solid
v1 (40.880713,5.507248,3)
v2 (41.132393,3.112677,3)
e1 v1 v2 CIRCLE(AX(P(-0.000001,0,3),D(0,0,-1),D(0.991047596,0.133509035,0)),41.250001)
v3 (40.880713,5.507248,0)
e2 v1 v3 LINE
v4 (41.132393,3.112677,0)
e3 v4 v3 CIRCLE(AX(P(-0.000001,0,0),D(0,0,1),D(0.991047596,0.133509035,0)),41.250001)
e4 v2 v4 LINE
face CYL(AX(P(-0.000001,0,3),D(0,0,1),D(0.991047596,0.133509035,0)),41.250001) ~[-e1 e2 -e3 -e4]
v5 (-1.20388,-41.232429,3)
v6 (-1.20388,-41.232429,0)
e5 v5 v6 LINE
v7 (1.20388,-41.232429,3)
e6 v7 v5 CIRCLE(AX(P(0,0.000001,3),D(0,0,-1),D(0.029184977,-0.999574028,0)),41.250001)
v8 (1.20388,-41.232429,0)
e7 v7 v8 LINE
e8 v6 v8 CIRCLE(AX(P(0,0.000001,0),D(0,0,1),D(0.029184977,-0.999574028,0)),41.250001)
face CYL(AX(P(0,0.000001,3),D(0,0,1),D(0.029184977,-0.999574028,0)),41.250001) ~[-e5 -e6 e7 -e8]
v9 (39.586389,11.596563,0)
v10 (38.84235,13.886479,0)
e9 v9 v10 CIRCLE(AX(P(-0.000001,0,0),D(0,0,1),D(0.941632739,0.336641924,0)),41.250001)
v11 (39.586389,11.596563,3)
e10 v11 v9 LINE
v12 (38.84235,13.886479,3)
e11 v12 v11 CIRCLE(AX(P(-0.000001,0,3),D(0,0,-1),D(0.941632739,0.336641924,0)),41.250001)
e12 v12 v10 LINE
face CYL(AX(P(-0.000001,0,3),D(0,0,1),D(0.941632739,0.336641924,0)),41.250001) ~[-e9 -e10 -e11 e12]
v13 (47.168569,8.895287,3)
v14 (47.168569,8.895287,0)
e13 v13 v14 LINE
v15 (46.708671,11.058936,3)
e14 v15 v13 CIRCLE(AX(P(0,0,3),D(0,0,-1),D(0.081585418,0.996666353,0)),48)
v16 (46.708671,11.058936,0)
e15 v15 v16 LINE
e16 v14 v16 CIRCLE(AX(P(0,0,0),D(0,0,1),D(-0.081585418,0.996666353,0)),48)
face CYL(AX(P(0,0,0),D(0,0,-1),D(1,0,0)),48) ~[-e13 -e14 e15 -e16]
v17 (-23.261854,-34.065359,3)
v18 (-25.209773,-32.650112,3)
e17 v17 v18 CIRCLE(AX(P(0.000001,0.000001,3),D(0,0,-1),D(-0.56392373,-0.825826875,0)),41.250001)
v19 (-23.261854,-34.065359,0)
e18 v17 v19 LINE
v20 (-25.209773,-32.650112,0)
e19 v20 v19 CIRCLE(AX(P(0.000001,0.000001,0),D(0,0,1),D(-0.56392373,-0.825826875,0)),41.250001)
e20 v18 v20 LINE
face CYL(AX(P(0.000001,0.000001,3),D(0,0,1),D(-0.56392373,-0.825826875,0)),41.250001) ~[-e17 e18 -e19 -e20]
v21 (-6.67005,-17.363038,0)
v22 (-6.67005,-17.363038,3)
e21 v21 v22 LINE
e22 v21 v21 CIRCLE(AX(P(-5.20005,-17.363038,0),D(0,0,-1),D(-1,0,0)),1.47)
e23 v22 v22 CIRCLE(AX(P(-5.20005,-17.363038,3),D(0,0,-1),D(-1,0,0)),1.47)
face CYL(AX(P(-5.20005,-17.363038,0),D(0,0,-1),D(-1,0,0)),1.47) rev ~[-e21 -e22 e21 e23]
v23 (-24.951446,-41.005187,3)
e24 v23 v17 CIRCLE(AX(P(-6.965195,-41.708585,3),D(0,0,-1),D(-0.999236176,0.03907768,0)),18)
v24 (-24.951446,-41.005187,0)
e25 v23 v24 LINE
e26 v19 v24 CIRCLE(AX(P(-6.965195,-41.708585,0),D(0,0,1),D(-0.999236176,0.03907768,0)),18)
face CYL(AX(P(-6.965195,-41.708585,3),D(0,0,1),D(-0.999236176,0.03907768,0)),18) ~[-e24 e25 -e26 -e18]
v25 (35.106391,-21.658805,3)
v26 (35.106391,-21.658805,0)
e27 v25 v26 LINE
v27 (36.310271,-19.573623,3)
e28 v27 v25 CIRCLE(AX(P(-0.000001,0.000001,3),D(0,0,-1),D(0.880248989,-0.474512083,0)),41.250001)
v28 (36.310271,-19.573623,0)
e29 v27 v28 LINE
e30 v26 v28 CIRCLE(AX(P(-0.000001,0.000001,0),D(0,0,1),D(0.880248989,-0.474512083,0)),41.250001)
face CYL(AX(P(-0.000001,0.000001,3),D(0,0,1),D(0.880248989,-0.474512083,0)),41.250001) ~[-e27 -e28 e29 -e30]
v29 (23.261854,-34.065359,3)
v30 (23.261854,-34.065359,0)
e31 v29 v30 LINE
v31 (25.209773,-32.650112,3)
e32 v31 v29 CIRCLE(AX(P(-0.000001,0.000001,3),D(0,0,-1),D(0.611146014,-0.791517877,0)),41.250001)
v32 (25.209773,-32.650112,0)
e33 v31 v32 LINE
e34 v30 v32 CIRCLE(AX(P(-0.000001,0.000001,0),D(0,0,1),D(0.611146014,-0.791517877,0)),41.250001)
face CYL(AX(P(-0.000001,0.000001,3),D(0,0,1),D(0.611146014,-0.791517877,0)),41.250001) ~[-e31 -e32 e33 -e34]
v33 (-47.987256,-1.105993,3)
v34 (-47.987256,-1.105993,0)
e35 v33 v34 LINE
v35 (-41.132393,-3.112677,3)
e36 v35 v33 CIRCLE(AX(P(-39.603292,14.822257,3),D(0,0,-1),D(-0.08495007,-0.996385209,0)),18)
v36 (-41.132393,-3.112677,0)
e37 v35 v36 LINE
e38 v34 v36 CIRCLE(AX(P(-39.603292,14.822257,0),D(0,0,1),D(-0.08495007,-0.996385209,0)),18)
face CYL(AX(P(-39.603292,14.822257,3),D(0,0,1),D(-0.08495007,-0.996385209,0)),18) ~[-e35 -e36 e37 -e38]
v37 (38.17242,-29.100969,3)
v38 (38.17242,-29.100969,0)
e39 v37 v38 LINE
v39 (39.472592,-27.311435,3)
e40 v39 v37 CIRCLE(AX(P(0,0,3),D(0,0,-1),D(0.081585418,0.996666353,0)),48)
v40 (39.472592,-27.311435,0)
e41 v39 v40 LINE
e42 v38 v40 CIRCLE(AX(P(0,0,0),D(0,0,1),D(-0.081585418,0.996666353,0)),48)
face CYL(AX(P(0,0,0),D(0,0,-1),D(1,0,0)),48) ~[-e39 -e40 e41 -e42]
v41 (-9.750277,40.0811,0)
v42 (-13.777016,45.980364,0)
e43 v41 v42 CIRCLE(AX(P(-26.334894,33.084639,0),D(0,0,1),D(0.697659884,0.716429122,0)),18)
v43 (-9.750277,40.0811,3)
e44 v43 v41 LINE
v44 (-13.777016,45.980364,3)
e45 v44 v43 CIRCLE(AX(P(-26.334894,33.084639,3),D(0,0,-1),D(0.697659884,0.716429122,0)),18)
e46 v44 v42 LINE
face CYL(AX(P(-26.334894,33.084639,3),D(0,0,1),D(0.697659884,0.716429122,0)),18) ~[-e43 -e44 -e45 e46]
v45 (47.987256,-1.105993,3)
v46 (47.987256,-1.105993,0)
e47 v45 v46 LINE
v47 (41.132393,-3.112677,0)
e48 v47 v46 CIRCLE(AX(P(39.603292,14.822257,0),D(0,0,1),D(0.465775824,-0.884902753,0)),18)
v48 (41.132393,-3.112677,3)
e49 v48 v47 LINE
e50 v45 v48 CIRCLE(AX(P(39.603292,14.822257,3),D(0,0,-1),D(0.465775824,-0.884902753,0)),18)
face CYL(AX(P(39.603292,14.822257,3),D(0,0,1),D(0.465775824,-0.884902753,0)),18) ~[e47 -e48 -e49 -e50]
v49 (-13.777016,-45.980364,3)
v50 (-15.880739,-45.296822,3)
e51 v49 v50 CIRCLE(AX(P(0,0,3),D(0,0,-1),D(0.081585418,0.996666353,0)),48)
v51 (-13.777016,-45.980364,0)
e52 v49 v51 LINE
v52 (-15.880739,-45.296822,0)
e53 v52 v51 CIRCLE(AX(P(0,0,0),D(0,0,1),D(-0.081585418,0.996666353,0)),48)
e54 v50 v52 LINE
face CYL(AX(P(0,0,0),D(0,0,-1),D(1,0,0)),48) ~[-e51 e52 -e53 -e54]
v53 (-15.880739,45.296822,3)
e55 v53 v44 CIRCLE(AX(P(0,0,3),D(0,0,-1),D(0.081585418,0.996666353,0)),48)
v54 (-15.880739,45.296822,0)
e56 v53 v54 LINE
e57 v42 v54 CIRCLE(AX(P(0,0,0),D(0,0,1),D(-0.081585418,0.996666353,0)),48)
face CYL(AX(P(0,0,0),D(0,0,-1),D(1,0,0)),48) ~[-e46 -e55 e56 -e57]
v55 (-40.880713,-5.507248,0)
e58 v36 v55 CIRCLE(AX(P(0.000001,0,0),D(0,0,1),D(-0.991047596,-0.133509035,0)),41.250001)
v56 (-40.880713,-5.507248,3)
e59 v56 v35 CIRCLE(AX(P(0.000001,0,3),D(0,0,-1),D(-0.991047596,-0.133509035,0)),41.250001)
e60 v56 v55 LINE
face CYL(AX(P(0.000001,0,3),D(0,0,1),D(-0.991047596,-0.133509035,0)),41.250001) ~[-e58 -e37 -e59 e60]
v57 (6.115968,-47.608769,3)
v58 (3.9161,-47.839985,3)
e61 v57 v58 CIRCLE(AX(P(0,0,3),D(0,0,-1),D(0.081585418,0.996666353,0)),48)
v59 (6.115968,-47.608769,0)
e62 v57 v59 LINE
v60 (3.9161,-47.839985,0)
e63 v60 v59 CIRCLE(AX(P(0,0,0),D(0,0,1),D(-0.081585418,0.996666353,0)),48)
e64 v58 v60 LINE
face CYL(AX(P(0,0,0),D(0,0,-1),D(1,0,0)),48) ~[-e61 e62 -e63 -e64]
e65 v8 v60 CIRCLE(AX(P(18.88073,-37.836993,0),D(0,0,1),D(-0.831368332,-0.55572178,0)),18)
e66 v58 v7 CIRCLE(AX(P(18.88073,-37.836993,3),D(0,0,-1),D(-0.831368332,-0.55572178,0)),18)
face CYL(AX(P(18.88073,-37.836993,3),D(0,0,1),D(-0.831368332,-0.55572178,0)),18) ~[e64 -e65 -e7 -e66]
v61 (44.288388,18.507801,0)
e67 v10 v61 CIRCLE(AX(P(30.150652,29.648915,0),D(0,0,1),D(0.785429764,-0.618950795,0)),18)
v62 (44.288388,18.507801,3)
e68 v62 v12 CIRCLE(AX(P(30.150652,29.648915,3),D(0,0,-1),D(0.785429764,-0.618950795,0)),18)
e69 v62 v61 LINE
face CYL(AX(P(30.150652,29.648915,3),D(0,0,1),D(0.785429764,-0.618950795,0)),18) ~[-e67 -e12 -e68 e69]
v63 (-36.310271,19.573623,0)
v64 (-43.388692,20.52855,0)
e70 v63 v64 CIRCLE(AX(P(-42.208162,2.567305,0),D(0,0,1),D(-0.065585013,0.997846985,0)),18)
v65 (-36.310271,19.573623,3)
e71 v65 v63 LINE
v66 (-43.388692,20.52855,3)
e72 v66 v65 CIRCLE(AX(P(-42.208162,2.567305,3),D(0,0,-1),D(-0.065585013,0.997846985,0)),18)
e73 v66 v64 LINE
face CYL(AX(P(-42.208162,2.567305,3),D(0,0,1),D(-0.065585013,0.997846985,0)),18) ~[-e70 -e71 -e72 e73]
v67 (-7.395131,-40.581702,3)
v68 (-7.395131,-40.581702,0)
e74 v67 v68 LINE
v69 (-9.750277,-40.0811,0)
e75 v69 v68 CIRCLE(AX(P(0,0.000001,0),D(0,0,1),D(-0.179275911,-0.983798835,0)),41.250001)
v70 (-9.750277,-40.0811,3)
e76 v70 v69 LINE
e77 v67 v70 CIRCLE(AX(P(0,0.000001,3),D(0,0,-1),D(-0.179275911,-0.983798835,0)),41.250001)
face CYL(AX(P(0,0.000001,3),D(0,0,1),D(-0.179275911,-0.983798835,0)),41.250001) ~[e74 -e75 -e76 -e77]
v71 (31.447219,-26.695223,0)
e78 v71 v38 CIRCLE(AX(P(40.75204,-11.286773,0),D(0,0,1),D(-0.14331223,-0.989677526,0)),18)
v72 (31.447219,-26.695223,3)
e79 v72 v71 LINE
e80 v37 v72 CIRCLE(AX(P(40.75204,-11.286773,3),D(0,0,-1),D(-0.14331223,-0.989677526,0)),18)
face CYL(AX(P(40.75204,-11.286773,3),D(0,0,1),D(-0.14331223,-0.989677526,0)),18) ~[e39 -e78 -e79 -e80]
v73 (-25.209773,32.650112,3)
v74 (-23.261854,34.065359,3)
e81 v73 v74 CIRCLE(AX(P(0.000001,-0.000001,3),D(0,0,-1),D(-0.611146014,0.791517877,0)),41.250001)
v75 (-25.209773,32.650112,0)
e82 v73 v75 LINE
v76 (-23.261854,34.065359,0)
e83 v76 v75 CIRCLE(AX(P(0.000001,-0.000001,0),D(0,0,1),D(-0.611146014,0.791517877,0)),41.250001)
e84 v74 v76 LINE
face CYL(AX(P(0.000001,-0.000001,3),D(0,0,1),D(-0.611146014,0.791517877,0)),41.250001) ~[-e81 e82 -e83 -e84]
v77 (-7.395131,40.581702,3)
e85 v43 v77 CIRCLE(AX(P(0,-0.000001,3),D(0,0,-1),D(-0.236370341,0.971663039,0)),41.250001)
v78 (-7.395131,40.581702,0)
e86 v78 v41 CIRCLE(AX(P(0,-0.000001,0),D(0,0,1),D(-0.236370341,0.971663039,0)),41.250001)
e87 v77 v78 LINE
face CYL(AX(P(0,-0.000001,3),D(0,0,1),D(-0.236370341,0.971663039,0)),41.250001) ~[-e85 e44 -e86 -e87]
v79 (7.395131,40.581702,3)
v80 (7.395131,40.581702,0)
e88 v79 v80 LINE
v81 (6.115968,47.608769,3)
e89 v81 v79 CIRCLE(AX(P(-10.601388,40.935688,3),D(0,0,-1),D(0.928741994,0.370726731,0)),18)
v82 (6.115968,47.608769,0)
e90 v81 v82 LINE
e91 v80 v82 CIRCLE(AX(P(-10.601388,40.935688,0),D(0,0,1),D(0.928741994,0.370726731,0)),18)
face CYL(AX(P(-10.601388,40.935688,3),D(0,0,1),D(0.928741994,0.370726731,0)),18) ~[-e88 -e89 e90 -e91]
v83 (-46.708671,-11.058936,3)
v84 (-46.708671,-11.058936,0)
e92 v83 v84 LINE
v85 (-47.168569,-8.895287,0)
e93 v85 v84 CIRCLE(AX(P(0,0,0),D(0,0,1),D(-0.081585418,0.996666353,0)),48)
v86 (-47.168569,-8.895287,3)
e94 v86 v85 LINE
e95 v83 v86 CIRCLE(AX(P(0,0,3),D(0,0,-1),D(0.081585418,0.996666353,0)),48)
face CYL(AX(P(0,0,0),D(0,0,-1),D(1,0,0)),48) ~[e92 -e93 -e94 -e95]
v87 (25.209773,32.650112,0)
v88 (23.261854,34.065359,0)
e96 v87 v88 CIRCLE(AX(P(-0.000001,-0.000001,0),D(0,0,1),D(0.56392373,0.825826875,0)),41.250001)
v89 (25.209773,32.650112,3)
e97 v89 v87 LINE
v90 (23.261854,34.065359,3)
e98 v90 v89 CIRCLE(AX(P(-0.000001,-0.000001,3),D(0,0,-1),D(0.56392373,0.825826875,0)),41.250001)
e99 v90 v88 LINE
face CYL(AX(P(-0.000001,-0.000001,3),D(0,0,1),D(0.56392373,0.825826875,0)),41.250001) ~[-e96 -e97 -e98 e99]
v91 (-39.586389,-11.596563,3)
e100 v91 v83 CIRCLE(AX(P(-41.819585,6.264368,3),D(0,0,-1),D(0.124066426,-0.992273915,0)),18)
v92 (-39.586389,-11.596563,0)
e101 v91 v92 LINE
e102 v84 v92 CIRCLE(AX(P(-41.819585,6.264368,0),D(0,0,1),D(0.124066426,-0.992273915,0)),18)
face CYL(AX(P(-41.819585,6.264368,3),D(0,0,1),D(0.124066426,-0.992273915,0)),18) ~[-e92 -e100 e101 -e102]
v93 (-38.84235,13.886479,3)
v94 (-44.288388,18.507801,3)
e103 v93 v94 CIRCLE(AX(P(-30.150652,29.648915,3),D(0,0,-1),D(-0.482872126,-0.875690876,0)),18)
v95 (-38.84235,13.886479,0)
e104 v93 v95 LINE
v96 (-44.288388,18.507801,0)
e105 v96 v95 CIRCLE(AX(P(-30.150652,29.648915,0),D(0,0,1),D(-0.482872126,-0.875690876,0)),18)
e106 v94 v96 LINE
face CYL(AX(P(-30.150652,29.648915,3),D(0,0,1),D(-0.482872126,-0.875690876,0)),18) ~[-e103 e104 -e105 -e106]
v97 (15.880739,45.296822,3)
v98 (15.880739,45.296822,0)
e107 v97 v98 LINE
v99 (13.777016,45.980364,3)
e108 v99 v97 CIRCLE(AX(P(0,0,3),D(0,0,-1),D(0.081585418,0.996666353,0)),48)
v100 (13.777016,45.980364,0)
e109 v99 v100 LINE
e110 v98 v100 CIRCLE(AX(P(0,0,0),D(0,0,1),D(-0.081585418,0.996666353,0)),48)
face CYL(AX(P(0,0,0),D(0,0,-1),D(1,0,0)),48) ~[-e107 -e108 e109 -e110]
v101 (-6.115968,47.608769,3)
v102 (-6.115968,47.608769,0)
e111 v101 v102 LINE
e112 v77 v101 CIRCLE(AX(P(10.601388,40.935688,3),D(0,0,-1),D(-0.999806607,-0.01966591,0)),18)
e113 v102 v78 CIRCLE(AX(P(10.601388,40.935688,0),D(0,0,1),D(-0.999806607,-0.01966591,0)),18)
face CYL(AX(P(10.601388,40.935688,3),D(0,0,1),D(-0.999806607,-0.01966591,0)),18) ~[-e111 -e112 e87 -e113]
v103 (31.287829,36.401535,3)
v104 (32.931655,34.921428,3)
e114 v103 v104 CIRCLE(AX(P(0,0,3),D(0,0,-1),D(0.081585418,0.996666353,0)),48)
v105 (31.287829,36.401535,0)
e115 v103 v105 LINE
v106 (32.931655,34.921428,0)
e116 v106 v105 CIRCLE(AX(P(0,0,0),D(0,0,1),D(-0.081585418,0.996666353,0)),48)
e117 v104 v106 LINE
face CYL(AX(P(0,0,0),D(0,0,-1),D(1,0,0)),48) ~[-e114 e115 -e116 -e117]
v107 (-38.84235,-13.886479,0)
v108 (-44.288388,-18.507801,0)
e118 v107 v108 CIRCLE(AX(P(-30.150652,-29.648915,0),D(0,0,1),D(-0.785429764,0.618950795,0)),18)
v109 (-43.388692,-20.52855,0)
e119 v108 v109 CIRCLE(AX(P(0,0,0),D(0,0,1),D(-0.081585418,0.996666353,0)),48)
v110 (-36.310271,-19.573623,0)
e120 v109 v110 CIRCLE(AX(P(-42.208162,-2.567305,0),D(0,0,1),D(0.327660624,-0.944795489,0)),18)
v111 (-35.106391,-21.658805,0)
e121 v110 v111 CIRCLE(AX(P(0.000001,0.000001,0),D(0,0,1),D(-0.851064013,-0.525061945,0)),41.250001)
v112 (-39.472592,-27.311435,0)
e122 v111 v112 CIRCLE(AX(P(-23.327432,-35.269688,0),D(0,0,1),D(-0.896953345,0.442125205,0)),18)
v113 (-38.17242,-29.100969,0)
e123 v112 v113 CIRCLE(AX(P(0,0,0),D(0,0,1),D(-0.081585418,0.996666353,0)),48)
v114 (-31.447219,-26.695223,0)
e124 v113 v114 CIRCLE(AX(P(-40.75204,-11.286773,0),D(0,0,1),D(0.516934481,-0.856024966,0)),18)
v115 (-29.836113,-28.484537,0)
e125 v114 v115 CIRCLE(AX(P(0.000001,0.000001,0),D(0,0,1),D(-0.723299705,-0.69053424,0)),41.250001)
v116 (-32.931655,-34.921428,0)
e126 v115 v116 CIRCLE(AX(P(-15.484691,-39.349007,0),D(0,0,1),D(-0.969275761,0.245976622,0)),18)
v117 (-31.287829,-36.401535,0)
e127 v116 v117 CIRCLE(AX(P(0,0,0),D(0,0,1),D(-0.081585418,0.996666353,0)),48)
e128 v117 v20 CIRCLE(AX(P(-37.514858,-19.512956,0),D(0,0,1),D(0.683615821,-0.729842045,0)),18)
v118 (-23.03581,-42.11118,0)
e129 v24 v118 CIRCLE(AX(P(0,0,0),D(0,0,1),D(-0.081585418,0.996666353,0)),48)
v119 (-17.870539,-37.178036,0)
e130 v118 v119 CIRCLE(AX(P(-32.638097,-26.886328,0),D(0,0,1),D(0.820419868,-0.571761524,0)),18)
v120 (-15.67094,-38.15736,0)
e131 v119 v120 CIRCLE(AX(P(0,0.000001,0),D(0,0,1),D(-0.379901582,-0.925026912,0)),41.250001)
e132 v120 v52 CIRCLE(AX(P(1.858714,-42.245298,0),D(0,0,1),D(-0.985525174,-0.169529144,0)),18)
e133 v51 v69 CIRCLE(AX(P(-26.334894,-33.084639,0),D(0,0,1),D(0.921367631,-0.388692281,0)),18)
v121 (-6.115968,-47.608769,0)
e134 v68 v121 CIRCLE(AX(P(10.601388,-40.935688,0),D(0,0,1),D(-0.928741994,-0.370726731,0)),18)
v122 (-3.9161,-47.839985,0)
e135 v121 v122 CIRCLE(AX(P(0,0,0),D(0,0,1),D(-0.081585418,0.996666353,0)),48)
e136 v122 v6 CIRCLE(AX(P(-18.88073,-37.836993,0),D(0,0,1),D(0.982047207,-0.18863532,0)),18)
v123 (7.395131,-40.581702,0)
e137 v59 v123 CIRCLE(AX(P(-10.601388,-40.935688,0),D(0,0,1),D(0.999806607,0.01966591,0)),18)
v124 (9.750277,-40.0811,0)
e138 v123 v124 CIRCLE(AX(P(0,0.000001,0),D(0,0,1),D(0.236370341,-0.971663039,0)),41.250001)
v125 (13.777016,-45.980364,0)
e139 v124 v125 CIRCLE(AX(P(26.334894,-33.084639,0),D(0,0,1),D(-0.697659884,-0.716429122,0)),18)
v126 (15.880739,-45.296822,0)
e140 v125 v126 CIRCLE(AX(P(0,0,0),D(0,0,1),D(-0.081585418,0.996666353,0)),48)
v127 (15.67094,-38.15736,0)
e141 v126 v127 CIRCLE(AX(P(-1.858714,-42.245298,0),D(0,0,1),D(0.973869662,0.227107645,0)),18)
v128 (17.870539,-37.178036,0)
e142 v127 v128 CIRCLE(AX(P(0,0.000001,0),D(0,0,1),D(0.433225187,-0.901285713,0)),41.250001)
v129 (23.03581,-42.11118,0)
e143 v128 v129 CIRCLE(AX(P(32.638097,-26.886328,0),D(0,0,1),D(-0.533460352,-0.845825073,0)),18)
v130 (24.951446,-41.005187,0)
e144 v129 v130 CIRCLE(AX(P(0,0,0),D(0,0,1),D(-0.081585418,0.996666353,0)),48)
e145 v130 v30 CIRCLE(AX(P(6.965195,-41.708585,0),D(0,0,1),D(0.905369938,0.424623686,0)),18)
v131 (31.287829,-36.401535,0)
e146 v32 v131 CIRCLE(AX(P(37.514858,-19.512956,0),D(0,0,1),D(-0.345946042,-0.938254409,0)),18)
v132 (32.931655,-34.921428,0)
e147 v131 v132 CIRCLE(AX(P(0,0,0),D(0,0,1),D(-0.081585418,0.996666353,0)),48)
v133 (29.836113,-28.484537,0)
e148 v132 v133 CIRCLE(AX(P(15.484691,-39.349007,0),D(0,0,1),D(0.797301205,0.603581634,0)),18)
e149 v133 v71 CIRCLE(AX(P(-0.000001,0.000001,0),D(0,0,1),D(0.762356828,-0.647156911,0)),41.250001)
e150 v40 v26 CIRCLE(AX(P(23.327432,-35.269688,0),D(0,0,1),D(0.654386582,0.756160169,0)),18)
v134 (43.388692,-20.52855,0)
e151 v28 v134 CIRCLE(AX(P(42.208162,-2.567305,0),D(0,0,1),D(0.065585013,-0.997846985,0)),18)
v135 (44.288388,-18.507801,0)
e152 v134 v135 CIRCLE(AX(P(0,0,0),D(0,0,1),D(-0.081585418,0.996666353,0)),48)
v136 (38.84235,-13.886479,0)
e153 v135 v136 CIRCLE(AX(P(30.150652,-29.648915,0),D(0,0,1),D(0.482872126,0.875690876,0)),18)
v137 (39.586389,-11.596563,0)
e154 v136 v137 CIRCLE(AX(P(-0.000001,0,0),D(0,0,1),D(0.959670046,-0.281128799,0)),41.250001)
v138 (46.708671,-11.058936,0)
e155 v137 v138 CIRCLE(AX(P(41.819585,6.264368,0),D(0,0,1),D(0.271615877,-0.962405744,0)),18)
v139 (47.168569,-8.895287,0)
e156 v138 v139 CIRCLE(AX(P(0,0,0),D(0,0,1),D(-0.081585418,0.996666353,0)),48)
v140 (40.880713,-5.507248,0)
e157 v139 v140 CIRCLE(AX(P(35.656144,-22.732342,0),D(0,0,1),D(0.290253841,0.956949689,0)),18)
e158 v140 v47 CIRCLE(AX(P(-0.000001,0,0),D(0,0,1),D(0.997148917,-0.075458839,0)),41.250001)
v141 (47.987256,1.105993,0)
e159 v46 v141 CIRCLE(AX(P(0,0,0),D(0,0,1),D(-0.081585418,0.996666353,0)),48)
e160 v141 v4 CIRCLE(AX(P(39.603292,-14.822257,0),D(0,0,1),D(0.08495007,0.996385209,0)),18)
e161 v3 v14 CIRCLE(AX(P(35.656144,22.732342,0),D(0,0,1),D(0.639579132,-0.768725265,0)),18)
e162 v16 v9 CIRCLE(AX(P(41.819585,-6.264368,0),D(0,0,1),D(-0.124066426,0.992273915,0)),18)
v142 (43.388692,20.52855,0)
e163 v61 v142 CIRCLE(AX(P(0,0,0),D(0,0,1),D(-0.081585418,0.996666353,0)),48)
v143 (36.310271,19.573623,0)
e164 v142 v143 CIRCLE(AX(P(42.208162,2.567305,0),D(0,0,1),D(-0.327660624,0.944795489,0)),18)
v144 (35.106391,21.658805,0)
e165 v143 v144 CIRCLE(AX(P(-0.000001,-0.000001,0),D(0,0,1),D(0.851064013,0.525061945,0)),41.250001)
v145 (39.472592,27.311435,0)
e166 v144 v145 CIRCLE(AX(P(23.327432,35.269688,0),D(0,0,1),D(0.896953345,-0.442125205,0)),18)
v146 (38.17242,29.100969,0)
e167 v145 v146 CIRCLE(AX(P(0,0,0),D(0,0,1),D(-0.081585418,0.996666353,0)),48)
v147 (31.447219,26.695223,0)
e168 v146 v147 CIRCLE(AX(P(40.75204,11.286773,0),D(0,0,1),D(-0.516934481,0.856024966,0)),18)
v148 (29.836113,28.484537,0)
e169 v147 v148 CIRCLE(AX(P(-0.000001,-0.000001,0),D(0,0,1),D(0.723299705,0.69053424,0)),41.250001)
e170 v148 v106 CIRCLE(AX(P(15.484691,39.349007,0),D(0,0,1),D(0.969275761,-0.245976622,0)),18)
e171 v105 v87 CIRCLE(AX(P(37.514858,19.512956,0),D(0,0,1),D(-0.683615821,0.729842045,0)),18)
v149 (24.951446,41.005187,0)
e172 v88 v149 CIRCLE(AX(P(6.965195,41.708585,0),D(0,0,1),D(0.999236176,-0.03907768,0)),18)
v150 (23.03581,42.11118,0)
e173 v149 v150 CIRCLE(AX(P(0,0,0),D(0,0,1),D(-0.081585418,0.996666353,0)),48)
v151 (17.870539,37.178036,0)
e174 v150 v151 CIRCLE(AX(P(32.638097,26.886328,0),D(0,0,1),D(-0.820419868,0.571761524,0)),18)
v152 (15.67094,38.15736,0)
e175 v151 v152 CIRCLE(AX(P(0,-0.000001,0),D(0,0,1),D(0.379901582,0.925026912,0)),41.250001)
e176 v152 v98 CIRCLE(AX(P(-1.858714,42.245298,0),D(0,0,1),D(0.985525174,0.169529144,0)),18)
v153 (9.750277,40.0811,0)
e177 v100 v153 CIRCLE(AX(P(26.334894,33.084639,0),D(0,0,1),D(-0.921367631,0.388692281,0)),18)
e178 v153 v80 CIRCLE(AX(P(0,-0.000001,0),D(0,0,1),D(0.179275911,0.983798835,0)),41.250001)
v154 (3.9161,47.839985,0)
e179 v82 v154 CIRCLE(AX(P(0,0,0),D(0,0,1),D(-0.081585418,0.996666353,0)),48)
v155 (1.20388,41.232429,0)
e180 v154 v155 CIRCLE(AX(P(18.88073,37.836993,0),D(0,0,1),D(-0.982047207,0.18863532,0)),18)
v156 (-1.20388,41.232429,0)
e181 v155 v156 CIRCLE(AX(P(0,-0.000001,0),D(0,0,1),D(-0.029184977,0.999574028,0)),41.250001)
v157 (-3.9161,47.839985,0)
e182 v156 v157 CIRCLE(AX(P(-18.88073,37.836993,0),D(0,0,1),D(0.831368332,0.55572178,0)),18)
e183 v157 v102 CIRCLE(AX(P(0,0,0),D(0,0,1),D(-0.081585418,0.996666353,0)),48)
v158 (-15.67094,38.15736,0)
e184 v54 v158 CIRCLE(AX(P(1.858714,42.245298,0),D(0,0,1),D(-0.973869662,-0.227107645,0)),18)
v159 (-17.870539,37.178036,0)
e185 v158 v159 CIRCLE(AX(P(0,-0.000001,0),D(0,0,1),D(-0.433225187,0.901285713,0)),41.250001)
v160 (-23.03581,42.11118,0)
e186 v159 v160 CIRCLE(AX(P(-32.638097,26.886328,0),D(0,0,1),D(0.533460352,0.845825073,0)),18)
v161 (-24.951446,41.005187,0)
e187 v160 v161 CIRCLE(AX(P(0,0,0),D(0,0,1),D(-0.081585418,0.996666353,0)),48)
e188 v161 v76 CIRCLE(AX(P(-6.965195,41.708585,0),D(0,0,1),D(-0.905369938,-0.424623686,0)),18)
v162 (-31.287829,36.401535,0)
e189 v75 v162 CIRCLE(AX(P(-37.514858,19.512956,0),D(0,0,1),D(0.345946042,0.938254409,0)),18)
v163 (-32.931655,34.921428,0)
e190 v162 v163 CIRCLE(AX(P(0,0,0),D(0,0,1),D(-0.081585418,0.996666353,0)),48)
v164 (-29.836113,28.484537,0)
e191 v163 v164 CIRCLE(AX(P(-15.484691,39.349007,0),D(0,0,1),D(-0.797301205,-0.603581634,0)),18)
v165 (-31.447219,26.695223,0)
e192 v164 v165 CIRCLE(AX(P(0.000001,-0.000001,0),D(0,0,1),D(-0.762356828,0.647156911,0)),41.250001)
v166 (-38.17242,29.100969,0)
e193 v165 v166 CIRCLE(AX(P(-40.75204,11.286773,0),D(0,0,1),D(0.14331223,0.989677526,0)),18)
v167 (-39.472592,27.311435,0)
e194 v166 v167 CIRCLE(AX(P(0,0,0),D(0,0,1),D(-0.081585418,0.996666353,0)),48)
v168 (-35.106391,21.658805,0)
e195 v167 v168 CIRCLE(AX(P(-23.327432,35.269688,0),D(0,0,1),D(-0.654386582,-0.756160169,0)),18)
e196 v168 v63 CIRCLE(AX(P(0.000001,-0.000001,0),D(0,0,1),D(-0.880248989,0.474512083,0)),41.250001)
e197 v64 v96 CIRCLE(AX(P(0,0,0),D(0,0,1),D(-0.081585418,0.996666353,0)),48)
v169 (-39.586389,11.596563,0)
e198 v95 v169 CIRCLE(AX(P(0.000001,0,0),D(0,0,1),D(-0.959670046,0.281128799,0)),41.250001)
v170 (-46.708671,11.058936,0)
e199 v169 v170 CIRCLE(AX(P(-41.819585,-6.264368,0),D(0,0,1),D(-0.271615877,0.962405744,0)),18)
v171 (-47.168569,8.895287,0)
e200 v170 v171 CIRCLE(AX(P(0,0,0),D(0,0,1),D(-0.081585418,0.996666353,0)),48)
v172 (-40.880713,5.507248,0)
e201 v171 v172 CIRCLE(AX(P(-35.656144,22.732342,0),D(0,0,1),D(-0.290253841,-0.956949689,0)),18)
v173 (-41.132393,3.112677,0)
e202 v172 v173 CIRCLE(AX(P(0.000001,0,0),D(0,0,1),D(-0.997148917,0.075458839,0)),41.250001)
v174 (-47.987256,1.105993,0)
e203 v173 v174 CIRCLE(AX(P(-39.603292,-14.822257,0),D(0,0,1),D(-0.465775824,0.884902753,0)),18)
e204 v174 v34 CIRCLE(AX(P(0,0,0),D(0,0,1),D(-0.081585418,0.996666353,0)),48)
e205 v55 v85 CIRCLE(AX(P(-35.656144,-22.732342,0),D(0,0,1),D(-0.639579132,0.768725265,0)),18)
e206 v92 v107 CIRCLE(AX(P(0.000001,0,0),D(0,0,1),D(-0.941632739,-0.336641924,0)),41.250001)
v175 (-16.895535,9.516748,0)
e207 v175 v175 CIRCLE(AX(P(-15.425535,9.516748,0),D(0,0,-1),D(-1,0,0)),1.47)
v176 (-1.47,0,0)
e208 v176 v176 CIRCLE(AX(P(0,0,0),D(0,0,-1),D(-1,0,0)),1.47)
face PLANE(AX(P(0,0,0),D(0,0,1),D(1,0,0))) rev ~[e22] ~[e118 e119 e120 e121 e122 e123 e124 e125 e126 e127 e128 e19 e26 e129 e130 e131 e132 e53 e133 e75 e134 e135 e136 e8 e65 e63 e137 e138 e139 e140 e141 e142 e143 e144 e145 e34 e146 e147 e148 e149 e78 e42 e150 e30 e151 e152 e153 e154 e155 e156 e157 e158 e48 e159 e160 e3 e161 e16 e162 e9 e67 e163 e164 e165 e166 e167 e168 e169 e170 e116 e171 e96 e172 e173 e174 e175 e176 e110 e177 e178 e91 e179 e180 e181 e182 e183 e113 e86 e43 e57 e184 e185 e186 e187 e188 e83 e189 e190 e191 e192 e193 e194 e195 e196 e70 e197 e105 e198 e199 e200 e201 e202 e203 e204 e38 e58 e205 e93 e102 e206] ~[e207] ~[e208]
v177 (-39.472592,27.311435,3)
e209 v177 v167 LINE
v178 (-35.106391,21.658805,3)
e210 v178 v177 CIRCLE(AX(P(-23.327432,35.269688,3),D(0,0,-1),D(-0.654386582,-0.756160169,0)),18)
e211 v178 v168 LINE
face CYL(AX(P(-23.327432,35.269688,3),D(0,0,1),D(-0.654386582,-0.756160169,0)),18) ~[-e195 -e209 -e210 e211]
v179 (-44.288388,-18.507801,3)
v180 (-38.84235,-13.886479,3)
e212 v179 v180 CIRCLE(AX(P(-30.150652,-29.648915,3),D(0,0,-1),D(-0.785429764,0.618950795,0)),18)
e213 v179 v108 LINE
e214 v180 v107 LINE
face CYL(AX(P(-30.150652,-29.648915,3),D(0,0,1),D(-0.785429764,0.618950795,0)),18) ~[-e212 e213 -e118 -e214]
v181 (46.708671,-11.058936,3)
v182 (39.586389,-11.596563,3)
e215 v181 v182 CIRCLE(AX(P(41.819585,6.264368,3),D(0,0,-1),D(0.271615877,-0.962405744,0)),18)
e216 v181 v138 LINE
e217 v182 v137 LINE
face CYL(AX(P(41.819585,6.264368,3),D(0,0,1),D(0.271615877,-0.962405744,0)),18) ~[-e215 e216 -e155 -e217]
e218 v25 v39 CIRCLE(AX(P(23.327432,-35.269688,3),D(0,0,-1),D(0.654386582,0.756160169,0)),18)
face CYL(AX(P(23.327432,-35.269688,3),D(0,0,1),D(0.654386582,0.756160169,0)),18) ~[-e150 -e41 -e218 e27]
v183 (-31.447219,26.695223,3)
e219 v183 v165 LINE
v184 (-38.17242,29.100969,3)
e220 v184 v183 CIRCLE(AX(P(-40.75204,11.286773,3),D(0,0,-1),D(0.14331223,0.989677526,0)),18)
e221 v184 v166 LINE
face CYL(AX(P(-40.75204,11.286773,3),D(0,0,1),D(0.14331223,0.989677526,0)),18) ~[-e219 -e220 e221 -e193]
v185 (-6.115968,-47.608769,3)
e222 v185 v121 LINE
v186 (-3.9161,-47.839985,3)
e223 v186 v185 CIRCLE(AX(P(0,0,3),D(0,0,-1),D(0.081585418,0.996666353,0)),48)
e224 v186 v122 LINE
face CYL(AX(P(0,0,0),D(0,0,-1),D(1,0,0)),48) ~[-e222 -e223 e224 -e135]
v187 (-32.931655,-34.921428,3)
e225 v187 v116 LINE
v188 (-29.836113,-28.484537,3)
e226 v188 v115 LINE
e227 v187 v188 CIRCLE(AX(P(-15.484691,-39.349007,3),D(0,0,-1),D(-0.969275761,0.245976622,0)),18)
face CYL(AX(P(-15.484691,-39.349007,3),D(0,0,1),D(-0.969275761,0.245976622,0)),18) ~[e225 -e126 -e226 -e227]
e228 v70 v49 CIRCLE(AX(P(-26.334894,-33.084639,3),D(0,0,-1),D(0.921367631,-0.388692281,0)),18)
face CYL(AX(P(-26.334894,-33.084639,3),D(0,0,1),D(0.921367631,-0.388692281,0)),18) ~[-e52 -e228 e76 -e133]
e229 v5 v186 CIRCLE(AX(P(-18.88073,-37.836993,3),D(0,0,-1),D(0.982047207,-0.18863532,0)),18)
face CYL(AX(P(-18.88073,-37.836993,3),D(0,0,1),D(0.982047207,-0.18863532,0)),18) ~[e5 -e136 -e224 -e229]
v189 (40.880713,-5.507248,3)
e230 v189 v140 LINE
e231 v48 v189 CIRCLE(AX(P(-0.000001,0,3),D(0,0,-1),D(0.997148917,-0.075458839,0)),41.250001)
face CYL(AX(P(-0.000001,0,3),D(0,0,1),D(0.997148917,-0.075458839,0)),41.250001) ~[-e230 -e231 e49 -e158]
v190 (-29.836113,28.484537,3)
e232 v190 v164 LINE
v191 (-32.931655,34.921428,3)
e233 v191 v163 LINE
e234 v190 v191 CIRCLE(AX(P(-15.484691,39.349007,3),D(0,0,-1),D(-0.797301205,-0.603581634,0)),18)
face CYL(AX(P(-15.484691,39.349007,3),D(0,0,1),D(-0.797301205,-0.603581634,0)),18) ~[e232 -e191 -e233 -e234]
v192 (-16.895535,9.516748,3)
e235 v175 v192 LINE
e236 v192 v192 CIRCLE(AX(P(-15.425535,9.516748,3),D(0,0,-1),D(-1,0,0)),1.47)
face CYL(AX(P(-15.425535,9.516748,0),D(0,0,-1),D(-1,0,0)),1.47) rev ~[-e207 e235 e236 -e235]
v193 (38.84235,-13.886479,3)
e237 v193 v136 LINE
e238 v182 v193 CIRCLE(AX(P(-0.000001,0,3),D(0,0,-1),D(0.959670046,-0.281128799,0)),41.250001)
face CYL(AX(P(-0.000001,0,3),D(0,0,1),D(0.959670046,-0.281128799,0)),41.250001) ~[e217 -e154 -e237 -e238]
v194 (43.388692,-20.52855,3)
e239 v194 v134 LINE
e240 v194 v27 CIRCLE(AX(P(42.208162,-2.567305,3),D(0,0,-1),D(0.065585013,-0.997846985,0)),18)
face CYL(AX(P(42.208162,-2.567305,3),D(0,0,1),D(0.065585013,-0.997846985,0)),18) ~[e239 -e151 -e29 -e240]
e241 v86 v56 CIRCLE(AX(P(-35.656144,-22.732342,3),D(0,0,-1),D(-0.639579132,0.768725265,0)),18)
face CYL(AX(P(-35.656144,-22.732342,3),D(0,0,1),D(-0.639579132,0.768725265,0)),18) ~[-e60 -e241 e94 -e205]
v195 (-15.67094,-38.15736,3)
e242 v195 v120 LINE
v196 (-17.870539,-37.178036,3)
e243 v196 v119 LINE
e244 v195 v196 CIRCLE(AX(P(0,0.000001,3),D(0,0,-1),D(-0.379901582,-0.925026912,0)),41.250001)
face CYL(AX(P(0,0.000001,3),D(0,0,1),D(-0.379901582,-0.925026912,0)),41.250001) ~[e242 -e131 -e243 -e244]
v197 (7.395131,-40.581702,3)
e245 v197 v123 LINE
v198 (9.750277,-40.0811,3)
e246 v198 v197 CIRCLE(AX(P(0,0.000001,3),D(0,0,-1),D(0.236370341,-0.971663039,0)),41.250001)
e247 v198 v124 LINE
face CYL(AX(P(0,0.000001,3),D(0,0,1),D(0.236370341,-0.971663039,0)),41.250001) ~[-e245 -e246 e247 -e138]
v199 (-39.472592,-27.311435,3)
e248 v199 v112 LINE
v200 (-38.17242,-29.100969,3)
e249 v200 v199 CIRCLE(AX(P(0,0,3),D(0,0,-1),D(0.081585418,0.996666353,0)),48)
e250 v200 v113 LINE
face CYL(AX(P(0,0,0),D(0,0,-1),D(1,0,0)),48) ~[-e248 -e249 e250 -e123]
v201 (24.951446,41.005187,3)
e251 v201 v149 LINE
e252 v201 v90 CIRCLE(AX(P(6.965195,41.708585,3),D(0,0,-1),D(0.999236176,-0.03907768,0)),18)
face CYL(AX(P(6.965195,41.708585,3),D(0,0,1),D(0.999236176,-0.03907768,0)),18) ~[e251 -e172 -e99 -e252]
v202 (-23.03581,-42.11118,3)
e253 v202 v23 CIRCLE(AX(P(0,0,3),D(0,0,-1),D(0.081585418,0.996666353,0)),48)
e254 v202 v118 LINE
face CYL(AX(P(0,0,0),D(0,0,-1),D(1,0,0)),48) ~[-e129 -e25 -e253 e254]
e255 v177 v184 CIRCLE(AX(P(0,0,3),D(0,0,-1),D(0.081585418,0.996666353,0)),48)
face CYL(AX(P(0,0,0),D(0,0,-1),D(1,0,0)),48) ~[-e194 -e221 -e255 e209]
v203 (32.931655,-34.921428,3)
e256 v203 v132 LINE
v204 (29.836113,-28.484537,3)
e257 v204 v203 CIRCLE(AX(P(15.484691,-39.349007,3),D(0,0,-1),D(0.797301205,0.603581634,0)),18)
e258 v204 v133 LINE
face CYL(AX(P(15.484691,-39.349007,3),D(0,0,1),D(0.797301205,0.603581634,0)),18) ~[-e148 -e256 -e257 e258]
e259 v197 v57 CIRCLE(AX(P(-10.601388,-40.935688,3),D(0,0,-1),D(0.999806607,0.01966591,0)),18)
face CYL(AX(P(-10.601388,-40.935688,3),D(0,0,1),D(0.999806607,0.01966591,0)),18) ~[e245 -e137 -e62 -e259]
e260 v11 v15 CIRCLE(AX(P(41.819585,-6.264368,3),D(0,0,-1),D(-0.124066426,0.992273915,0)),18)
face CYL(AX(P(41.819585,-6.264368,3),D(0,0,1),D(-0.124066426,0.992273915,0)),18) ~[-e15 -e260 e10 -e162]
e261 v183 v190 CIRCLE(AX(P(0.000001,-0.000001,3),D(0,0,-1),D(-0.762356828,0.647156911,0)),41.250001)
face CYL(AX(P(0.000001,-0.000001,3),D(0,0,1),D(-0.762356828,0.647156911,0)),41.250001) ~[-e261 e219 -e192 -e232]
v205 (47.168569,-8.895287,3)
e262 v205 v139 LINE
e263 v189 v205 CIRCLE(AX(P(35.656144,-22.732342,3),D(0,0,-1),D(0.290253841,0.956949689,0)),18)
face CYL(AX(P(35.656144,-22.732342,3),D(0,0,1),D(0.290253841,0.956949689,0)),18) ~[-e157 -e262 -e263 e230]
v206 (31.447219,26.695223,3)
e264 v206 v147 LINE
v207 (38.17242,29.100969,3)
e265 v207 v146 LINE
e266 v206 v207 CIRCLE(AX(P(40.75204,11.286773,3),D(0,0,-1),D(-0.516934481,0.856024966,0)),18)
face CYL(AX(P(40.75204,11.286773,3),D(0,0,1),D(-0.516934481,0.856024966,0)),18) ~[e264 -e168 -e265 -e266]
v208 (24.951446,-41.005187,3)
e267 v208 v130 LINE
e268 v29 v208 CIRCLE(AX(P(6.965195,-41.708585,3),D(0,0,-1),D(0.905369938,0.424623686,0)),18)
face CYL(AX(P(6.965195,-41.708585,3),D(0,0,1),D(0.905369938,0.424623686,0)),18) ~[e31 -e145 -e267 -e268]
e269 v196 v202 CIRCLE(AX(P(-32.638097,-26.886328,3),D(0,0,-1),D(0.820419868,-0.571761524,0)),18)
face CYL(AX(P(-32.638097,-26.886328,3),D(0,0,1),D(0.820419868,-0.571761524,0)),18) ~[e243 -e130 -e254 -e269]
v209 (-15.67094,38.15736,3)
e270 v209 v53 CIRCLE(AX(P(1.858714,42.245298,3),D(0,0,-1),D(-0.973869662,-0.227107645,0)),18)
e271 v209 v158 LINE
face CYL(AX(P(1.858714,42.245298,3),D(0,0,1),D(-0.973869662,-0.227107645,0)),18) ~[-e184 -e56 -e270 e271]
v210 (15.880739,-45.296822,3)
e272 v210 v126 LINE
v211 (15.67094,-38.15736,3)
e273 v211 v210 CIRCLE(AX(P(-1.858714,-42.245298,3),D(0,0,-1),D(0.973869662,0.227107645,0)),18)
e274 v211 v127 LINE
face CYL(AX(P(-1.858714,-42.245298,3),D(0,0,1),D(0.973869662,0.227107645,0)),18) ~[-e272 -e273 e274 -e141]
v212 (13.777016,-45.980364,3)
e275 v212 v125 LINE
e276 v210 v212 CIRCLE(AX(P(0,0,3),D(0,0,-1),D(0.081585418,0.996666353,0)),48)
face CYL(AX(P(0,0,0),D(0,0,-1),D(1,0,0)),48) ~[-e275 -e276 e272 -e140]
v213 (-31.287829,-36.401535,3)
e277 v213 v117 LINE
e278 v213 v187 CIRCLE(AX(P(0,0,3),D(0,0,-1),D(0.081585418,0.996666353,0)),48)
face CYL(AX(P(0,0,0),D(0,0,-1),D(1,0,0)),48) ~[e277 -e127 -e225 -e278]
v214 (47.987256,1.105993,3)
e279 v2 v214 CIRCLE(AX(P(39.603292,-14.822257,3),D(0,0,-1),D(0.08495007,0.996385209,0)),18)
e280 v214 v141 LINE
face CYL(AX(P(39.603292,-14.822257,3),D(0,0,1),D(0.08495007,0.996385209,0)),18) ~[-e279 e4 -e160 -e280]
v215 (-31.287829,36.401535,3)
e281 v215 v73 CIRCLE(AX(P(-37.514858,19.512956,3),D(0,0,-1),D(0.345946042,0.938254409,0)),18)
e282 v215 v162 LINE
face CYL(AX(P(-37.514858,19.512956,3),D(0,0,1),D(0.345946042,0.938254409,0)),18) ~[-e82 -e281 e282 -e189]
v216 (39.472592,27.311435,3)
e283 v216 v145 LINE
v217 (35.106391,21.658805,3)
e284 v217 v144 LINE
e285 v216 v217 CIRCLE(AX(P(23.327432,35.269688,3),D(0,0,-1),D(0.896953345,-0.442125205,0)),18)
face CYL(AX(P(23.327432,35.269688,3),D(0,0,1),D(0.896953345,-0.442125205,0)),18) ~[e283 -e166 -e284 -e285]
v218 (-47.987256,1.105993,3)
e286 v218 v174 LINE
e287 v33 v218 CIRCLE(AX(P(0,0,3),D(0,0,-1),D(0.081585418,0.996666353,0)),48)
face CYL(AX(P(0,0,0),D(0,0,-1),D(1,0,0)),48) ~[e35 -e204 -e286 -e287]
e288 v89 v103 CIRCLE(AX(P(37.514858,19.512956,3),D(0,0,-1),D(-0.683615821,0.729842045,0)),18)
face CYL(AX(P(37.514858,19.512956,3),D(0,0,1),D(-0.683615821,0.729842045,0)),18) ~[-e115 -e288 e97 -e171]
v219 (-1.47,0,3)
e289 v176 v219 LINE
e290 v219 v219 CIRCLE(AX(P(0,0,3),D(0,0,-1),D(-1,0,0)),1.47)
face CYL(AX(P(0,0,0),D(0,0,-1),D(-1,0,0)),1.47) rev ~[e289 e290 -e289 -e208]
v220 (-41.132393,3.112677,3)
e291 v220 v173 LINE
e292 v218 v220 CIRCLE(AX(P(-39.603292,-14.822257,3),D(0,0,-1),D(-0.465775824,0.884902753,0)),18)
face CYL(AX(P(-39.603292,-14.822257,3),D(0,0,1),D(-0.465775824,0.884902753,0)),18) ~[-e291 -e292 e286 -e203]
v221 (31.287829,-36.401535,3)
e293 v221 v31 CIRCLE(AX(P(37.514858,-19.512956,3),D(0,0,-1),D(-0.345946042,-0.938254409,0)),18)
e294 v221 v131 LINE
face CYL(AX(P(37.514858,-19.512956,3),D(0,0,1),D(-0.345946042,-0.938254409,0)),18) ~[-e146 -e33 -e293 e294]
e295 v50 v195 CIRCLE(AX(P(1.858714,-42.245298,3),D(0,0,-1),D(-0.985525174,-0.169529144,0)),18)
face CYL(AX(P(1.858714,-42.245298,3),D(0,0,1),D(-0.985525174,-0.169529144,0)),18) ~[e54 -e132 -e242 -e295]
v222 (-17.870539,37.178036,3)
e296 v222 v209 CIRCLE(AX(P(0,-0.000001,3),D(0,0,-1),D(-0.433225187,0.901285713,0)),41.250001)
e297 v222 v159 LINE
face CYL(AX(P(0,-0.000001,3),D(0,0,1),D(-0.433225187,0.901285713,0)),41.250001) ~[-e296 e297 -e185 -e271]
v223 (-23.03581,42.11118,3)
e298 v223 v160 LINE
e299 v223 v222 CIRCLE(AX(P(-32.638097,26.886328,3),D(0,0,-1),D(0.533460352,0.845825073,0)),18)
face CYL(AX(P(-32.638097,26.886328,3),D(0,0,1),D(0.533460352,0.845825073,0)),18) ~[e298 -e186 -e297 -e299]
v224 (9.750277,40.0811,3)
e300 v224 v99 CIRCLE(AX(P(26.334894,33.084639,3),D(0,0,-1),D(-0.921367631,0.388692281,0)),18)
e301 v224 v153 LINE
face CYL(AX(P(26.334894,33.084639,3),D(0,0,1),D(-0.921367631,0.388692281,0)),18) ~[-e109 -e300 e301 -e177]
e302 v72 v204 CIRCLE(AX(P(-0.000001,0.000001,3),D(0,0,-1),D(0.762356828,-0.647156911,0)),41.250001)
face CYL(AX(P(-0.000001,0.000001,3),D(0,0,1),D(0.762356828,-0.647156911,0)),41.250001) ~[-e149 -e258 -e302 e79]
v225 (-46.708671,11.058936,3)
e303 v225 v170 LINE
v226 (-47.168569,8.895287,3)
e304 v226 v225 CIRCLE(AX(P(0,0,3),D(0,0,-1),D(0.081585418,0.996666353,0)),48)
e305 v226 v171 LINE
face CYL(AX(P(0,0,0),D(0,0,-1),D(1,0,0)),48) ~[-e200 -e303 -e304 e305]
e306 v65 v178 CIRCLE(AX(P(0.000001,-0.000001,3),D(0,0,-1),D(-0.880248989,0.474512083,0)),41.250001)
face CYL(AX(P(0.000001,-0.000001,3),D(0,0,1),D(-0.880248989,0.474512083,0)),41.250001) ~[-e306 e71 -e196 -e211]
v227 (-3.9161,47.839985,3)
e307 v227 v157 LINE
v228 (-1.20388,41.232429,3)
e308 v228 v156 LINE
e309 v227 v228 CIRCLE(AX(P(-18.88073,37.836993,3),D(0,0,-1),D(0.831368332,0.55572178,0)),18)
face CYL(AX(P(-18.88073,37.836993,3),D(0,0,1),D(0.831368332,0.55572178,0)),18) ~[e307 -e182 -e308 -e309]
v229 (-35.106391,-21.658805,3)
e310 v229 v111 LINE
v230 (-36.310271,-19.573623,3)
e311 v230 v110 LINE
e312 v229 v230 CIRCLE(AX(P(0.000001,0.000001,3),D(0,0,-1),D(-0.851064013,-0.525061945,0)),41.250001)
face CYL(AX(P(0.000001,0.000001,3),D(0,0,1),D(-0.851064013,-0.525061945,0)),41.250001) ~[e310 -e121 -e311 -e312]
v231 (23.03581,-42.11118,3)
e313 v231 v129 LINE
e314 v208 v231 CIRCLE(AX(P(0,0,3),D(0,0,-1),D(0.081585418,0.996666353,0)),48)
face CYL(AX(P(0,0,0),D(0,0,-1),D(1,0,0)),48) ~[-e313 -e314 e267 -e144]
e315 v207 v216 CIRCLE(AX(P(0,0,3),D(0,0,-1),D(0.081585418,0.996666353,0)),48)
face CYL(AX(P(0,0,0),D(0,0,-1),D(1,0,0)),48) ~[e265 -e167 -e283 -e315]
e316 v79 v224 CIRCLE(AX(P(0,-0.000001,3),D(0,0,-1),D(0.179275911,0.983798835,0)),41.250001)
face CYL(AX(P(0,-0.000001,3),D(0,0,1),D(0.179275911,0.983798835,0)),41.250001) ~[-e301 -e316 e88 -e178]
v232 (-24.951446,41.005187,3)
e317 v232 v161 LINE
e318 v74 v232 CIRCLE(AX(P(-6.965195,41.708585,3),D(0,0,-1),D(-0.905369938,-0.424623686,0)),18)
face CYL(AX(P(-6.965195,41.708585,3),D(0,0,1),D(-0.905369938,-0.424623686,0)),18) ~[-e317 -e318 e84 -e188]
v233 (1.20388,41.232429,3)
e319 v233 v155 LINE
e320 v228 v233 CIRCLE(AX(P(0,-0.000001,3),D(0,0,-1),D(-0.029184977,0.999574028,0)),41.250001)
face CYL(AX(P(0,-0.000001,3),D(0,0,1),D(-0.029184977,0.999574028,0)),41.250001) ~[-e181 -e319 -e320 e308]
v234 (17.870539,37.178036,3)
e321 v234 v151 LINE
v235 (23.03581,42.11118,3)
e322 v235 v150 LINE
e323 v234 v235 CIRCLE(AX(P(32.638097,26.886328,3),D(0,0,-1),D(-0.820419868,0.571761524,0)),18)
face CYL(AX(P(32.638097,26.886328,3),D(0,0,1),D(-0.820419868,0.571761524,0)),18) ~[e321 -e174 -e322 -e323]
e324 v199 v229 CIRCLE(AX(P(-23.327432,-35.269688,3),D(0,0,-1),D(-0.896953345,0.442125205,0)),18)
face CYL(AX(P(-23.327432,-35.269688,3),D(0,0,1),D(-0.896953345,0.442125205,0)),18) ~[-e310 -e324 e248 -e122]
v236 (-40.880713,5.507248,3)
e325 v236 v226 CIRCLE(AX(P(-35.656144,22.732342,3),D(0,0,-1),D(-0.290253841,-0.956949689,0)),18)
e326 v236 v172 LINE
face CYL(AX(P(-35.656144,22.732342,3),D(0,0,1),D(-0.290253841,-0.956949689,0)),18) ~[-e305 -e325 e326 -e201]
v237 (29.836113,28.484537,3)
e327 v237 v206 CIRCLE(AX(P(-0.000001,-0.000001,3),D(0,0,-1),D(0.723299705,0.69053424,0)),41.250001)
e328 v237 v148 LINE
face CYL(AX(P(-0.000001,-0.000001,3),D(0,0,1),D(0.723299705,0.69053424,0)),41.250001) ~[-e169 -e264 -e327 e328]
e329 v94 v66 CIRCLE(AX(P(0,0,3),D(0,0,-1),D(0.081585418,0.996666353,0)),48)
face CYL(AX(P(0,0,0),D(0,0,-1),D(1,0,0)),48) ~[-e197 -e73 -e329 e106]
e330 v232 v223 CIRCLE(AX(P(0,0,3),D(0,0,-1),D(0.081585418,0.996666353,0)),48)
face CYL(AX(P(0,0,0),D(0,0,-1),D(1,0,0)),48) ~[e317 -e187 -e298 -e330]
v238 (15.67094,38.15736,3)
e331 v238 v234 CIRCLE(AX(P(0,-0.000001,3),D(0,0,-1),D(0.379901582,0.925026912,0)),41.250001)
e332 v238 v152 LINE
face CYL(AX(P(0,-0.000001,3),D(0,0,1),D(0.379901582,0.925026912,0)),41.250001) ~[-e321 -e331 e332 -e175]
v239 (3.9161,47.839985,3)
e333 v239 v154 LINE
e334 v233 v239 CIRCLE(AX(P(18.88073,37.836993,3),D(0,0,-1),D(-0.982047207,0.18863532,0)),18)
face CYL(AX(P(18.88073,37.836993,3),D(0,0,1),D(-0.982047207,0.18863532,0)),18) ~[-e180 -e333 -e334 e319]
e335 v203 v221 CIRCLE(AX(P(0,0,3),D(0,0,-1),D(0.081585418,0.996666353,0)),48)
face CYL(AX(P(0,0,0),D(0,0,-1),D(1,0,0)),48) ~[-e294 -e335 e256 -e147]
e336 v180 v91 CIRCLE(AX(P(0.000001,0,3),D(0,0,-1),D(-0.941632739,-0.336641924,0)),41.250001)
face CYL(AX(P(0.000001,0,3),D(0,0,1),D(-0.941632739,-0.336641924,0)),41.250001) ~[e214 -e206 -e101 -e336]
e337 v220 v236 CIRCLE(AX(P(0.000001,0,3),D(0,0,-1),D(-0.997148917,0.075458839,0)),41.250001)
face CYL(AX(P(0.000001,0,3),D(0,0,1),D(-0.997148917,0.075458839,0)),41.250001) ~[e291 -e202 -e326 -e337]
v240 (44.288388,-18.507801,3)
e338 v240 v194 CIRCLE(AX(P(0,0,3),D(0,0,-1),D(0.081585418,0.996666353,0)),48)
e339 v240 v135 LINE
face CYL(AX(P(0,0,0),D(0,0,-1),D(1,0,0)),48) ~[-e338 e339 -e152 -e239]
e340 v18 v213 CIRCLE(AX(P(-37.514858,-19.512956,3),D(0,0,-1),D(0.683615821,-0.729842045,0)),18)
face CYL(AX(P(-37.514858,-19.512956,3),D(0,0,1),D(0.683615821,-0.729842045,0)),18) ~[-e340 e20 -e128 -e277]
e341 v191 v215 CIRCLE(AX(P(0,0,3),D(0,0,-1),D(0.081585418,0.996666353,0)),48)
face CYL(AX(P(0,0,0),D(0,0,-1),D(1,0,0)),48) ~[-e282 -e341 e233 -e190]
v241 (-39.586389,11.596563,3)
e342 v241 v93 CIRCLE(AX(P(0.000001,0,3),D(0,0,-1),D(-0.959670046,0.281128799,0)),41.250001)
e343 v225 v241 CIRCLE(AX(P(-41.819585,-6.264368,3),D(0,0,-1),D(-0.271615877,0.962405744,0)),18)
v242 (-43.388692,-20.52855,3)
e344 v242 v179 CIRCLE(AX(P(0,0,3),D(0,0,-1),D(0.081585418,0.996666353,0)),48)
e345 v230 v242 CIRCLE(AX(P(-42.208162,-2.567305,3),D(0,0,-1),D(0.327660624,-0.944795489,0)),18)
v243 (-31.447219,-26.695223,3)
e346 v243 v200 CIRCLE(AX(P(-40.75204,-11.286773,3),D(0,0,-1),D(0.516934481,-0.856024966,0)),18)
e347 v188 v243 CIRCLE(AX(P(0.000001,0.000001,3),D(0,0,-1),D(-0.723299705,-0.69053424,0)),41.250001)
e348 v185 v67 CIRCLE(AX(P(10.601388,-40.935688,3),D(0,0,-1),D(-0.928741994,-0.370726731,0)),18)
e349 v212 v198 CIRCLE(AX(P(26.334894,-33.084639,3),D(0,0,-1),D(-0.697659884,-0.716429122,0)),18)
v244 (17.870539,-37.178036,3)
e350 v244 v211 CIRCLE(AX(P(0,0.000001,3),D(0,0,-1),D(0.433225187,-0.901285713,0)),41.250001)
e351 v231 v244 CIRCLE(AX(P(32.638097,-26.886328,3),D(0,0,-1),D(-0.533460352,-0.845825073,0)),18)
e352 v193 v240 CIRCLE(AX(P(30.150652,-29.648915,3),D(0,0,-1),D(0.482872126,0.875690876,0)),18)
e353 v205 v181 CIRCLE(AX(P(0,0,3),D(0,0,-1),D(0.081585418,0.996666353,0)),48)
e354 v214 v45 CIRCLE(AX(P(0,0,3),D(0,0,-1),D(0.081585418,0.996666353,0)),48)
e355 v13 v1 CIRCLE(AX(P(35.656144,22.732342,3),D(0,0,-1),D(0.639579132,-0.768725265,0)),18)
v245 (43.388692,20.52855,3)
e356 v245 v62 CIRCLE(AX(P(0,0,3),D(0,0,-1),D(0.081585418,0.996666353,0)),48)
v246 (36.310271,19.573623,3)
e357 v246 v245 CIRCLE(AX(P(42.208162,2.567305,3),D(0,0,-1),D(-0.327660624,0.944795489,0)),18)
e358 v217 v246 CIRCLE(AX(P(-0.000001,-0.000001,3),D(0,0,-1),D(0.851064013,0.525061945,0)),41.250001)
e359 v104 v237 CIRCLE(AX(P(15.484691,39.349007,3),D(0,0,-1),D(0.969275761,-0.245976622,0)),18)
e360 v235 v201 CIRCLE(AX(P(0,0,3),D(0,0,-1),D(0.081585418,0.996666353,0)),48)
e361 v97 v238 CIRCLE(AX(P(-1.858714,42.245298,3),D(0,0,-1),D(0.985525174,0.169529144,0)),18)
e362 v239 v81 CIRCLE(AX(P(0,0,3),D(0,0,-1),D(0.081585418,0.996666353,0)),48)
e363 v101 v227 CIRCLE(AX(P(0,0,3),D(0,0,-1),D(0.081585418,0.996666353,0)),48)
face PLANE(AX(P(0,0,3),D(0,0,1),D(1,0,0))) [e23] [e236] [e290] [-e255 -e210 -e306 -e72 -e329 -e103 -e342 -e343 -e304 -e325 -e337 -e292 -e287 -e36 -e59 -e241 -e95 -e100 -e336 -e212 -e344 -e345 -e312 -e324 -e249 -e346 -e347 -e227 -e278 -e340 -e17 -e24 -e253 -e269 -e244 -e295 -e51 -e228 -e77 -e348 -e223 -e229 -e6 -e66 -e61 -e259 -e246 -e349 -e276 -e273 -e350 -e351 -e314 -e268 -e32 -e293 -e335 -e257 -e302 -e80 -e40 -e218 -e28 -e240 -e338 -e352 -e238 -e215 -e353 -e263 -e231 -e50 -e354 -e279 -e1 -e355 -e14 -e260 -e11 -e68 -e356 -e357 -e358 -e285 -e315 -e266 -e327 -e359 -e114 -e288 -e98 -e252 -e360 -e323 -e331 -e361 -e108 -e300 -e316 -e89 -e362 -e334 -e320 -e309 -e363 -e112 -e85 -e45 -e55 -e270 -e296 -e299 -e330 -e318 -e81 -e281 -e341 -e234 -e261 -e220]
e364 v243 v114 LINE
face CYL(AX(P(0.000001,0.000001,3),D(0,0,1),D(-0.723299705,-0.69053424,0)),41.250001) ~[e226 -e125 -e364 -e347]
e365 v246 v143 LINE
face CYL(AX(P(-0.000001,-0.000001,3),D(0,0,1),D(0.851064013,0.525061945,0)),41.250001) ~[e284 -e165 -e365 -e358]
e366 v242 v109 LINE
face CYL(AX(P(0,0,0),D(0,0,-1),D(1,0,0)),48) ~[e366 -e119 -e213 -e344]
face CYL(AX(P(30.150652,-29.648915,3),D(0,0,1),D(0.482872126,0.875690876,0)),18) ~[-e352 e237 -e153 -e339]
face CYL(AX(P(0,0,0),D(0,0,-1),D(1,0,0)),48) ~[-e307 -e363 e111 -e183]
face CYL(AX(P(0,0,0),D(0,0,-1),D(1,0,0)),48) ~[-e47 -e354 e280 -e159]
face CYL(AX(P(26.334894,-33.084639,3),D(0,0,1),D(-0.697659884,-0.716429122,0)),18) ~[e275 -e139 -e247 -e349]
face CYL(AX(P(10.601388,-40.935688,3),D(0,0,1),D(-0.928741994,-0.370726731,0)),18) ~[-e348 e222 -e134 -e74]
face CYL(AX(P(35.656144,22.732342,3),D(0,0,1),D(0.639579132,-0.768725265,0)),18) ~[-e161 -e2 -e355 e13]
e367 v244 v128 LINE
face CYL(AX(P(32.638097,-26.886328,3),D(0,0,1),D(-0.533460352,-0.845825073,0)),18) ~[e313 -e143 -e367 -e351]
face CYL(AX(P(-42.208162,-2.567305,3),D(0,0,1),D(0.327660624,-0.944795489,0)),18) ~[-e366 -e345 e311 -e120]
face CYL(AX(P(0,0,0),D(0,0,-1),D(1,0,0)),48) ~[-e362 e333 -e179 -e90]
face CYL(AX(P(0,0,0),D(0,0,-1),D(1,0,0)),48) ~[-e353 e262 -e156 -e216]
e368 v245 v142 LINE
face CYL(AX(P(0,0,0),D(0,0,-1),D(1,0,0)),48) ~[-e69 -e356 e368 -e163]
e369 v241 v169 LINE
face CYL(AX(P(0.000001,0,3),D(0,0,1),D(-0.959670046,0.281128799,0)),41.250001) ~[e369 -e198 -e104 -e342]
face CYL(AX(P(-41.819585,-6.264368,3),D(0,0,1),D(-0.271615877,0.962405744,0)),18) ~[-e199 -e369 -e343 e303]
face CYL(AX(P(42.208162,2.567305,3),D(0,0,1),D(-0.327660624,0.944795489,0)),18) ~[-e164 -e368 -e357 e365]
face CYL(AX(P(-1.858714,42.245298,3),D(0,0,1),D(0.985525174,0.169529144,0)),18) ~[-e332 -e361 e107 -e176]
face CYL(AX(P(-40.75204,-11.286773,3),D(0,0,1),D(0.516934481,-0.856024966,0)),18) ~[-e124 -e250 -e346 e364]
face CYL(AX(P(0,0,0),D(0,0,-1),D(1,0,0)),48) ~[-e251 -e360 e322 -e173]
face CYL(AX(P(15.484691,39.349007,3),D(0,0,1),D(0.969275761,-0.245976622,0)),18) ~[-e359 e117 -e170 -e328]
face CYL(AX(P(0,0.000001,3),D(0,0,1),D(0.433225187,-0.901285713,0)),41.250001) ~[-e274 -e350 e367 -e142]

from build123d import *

# Parameters (mm, degrees)
SKETCH1_R           = 48
BOSS_EXTRUDE1_DEPTH = 3
CUT_EXTRUDE1_DEPTH  = 68.948509917
CIRPATTERN1_COUNT   = 30
SKETCH7_R           = 1.47
CUT_EXTRUDE2_DEPTH  = 68.835567074
SKETCH8_R           = 1.47
CUT_EXTRUDE3_DEPTH  = 68.835567074


with BuildPart() as part:
    # Sketch1 → Boss-Extrude1 (new body)
    with BuildSketch(Plane.XY):
        Circle(SKETCH1_R)
    extrude(amount=BOSS_EXTRUDE1_DEPTH)

    # Sketch2 → Cut-Extrude1 (cut, through all)
    with BuildSketch(Plane.XY.offset(3)):
        with BuildLine():
            ThreePointArc((-1.20388032, 41.232428648), (0, 41.25), (1.20388032, 41.232428648))
            ThreePointArc((1.20388032, 41.232428648), (2.228958391, 44.672086233), (3.916100076, 47.839984952))
            ThreePointArc((3.916100076, 47.839984952), (0, 48), (-3.916100076, 47.839984952))
            ThreePointArc((-3.916100076, 47.839984952), (-2.228958391, 44.672086233), (-1.20388032, 41.232428648))
        make_face()
    cut_extrude1 = extrude(amount=-CUT_EXTRUDE1_DEPTH, mode=Mode.SUBTRACT)

    # CirPattern1: Cut-Extrude1 ×30 about axis
    cirpattern1_axis = Axis((0, 0, 0), (0, 0, 1))
    for i in range(1, CIRPATTERN1_COUNT):
        add(cut_extrude1.rotate(cirpattern1_axis, i * 360 / CIRPATTERN1_COUNT), mode=Mode.SUBTRACT)

    # Sketch7 → Cut-Extrude2 (cut, through all)
    with BuildSketch(Plane(origin=(0, 0, 0), x_dir=(-1, 0, 0), z_dir=(0, 0, -1))):
        Circle(SKETCH7_R)
    extrude(amount=-CUT_EXTRUDE2_DEPTH, mode=Mode.SUBTRACT)

    # Sketch8 → Cut-Extrude3 (cut, through all)
    with BuildSketch(Plane(origin=(0, 0, 0), x_dir=(-1, 0, 0), z_dir=(0, 0, -1))):
        with Locations((5.200050154, -17.363038426)):
            Circle(SKETCH8_R)
        with Locations((15.425535223, 9.516747768)):
            Circle(SKETCH8_R)
    extrude(amount=-CUT_EXTRUDE3_DEPTH, mode=Mode.SUBTRACT)


solid = part.part
